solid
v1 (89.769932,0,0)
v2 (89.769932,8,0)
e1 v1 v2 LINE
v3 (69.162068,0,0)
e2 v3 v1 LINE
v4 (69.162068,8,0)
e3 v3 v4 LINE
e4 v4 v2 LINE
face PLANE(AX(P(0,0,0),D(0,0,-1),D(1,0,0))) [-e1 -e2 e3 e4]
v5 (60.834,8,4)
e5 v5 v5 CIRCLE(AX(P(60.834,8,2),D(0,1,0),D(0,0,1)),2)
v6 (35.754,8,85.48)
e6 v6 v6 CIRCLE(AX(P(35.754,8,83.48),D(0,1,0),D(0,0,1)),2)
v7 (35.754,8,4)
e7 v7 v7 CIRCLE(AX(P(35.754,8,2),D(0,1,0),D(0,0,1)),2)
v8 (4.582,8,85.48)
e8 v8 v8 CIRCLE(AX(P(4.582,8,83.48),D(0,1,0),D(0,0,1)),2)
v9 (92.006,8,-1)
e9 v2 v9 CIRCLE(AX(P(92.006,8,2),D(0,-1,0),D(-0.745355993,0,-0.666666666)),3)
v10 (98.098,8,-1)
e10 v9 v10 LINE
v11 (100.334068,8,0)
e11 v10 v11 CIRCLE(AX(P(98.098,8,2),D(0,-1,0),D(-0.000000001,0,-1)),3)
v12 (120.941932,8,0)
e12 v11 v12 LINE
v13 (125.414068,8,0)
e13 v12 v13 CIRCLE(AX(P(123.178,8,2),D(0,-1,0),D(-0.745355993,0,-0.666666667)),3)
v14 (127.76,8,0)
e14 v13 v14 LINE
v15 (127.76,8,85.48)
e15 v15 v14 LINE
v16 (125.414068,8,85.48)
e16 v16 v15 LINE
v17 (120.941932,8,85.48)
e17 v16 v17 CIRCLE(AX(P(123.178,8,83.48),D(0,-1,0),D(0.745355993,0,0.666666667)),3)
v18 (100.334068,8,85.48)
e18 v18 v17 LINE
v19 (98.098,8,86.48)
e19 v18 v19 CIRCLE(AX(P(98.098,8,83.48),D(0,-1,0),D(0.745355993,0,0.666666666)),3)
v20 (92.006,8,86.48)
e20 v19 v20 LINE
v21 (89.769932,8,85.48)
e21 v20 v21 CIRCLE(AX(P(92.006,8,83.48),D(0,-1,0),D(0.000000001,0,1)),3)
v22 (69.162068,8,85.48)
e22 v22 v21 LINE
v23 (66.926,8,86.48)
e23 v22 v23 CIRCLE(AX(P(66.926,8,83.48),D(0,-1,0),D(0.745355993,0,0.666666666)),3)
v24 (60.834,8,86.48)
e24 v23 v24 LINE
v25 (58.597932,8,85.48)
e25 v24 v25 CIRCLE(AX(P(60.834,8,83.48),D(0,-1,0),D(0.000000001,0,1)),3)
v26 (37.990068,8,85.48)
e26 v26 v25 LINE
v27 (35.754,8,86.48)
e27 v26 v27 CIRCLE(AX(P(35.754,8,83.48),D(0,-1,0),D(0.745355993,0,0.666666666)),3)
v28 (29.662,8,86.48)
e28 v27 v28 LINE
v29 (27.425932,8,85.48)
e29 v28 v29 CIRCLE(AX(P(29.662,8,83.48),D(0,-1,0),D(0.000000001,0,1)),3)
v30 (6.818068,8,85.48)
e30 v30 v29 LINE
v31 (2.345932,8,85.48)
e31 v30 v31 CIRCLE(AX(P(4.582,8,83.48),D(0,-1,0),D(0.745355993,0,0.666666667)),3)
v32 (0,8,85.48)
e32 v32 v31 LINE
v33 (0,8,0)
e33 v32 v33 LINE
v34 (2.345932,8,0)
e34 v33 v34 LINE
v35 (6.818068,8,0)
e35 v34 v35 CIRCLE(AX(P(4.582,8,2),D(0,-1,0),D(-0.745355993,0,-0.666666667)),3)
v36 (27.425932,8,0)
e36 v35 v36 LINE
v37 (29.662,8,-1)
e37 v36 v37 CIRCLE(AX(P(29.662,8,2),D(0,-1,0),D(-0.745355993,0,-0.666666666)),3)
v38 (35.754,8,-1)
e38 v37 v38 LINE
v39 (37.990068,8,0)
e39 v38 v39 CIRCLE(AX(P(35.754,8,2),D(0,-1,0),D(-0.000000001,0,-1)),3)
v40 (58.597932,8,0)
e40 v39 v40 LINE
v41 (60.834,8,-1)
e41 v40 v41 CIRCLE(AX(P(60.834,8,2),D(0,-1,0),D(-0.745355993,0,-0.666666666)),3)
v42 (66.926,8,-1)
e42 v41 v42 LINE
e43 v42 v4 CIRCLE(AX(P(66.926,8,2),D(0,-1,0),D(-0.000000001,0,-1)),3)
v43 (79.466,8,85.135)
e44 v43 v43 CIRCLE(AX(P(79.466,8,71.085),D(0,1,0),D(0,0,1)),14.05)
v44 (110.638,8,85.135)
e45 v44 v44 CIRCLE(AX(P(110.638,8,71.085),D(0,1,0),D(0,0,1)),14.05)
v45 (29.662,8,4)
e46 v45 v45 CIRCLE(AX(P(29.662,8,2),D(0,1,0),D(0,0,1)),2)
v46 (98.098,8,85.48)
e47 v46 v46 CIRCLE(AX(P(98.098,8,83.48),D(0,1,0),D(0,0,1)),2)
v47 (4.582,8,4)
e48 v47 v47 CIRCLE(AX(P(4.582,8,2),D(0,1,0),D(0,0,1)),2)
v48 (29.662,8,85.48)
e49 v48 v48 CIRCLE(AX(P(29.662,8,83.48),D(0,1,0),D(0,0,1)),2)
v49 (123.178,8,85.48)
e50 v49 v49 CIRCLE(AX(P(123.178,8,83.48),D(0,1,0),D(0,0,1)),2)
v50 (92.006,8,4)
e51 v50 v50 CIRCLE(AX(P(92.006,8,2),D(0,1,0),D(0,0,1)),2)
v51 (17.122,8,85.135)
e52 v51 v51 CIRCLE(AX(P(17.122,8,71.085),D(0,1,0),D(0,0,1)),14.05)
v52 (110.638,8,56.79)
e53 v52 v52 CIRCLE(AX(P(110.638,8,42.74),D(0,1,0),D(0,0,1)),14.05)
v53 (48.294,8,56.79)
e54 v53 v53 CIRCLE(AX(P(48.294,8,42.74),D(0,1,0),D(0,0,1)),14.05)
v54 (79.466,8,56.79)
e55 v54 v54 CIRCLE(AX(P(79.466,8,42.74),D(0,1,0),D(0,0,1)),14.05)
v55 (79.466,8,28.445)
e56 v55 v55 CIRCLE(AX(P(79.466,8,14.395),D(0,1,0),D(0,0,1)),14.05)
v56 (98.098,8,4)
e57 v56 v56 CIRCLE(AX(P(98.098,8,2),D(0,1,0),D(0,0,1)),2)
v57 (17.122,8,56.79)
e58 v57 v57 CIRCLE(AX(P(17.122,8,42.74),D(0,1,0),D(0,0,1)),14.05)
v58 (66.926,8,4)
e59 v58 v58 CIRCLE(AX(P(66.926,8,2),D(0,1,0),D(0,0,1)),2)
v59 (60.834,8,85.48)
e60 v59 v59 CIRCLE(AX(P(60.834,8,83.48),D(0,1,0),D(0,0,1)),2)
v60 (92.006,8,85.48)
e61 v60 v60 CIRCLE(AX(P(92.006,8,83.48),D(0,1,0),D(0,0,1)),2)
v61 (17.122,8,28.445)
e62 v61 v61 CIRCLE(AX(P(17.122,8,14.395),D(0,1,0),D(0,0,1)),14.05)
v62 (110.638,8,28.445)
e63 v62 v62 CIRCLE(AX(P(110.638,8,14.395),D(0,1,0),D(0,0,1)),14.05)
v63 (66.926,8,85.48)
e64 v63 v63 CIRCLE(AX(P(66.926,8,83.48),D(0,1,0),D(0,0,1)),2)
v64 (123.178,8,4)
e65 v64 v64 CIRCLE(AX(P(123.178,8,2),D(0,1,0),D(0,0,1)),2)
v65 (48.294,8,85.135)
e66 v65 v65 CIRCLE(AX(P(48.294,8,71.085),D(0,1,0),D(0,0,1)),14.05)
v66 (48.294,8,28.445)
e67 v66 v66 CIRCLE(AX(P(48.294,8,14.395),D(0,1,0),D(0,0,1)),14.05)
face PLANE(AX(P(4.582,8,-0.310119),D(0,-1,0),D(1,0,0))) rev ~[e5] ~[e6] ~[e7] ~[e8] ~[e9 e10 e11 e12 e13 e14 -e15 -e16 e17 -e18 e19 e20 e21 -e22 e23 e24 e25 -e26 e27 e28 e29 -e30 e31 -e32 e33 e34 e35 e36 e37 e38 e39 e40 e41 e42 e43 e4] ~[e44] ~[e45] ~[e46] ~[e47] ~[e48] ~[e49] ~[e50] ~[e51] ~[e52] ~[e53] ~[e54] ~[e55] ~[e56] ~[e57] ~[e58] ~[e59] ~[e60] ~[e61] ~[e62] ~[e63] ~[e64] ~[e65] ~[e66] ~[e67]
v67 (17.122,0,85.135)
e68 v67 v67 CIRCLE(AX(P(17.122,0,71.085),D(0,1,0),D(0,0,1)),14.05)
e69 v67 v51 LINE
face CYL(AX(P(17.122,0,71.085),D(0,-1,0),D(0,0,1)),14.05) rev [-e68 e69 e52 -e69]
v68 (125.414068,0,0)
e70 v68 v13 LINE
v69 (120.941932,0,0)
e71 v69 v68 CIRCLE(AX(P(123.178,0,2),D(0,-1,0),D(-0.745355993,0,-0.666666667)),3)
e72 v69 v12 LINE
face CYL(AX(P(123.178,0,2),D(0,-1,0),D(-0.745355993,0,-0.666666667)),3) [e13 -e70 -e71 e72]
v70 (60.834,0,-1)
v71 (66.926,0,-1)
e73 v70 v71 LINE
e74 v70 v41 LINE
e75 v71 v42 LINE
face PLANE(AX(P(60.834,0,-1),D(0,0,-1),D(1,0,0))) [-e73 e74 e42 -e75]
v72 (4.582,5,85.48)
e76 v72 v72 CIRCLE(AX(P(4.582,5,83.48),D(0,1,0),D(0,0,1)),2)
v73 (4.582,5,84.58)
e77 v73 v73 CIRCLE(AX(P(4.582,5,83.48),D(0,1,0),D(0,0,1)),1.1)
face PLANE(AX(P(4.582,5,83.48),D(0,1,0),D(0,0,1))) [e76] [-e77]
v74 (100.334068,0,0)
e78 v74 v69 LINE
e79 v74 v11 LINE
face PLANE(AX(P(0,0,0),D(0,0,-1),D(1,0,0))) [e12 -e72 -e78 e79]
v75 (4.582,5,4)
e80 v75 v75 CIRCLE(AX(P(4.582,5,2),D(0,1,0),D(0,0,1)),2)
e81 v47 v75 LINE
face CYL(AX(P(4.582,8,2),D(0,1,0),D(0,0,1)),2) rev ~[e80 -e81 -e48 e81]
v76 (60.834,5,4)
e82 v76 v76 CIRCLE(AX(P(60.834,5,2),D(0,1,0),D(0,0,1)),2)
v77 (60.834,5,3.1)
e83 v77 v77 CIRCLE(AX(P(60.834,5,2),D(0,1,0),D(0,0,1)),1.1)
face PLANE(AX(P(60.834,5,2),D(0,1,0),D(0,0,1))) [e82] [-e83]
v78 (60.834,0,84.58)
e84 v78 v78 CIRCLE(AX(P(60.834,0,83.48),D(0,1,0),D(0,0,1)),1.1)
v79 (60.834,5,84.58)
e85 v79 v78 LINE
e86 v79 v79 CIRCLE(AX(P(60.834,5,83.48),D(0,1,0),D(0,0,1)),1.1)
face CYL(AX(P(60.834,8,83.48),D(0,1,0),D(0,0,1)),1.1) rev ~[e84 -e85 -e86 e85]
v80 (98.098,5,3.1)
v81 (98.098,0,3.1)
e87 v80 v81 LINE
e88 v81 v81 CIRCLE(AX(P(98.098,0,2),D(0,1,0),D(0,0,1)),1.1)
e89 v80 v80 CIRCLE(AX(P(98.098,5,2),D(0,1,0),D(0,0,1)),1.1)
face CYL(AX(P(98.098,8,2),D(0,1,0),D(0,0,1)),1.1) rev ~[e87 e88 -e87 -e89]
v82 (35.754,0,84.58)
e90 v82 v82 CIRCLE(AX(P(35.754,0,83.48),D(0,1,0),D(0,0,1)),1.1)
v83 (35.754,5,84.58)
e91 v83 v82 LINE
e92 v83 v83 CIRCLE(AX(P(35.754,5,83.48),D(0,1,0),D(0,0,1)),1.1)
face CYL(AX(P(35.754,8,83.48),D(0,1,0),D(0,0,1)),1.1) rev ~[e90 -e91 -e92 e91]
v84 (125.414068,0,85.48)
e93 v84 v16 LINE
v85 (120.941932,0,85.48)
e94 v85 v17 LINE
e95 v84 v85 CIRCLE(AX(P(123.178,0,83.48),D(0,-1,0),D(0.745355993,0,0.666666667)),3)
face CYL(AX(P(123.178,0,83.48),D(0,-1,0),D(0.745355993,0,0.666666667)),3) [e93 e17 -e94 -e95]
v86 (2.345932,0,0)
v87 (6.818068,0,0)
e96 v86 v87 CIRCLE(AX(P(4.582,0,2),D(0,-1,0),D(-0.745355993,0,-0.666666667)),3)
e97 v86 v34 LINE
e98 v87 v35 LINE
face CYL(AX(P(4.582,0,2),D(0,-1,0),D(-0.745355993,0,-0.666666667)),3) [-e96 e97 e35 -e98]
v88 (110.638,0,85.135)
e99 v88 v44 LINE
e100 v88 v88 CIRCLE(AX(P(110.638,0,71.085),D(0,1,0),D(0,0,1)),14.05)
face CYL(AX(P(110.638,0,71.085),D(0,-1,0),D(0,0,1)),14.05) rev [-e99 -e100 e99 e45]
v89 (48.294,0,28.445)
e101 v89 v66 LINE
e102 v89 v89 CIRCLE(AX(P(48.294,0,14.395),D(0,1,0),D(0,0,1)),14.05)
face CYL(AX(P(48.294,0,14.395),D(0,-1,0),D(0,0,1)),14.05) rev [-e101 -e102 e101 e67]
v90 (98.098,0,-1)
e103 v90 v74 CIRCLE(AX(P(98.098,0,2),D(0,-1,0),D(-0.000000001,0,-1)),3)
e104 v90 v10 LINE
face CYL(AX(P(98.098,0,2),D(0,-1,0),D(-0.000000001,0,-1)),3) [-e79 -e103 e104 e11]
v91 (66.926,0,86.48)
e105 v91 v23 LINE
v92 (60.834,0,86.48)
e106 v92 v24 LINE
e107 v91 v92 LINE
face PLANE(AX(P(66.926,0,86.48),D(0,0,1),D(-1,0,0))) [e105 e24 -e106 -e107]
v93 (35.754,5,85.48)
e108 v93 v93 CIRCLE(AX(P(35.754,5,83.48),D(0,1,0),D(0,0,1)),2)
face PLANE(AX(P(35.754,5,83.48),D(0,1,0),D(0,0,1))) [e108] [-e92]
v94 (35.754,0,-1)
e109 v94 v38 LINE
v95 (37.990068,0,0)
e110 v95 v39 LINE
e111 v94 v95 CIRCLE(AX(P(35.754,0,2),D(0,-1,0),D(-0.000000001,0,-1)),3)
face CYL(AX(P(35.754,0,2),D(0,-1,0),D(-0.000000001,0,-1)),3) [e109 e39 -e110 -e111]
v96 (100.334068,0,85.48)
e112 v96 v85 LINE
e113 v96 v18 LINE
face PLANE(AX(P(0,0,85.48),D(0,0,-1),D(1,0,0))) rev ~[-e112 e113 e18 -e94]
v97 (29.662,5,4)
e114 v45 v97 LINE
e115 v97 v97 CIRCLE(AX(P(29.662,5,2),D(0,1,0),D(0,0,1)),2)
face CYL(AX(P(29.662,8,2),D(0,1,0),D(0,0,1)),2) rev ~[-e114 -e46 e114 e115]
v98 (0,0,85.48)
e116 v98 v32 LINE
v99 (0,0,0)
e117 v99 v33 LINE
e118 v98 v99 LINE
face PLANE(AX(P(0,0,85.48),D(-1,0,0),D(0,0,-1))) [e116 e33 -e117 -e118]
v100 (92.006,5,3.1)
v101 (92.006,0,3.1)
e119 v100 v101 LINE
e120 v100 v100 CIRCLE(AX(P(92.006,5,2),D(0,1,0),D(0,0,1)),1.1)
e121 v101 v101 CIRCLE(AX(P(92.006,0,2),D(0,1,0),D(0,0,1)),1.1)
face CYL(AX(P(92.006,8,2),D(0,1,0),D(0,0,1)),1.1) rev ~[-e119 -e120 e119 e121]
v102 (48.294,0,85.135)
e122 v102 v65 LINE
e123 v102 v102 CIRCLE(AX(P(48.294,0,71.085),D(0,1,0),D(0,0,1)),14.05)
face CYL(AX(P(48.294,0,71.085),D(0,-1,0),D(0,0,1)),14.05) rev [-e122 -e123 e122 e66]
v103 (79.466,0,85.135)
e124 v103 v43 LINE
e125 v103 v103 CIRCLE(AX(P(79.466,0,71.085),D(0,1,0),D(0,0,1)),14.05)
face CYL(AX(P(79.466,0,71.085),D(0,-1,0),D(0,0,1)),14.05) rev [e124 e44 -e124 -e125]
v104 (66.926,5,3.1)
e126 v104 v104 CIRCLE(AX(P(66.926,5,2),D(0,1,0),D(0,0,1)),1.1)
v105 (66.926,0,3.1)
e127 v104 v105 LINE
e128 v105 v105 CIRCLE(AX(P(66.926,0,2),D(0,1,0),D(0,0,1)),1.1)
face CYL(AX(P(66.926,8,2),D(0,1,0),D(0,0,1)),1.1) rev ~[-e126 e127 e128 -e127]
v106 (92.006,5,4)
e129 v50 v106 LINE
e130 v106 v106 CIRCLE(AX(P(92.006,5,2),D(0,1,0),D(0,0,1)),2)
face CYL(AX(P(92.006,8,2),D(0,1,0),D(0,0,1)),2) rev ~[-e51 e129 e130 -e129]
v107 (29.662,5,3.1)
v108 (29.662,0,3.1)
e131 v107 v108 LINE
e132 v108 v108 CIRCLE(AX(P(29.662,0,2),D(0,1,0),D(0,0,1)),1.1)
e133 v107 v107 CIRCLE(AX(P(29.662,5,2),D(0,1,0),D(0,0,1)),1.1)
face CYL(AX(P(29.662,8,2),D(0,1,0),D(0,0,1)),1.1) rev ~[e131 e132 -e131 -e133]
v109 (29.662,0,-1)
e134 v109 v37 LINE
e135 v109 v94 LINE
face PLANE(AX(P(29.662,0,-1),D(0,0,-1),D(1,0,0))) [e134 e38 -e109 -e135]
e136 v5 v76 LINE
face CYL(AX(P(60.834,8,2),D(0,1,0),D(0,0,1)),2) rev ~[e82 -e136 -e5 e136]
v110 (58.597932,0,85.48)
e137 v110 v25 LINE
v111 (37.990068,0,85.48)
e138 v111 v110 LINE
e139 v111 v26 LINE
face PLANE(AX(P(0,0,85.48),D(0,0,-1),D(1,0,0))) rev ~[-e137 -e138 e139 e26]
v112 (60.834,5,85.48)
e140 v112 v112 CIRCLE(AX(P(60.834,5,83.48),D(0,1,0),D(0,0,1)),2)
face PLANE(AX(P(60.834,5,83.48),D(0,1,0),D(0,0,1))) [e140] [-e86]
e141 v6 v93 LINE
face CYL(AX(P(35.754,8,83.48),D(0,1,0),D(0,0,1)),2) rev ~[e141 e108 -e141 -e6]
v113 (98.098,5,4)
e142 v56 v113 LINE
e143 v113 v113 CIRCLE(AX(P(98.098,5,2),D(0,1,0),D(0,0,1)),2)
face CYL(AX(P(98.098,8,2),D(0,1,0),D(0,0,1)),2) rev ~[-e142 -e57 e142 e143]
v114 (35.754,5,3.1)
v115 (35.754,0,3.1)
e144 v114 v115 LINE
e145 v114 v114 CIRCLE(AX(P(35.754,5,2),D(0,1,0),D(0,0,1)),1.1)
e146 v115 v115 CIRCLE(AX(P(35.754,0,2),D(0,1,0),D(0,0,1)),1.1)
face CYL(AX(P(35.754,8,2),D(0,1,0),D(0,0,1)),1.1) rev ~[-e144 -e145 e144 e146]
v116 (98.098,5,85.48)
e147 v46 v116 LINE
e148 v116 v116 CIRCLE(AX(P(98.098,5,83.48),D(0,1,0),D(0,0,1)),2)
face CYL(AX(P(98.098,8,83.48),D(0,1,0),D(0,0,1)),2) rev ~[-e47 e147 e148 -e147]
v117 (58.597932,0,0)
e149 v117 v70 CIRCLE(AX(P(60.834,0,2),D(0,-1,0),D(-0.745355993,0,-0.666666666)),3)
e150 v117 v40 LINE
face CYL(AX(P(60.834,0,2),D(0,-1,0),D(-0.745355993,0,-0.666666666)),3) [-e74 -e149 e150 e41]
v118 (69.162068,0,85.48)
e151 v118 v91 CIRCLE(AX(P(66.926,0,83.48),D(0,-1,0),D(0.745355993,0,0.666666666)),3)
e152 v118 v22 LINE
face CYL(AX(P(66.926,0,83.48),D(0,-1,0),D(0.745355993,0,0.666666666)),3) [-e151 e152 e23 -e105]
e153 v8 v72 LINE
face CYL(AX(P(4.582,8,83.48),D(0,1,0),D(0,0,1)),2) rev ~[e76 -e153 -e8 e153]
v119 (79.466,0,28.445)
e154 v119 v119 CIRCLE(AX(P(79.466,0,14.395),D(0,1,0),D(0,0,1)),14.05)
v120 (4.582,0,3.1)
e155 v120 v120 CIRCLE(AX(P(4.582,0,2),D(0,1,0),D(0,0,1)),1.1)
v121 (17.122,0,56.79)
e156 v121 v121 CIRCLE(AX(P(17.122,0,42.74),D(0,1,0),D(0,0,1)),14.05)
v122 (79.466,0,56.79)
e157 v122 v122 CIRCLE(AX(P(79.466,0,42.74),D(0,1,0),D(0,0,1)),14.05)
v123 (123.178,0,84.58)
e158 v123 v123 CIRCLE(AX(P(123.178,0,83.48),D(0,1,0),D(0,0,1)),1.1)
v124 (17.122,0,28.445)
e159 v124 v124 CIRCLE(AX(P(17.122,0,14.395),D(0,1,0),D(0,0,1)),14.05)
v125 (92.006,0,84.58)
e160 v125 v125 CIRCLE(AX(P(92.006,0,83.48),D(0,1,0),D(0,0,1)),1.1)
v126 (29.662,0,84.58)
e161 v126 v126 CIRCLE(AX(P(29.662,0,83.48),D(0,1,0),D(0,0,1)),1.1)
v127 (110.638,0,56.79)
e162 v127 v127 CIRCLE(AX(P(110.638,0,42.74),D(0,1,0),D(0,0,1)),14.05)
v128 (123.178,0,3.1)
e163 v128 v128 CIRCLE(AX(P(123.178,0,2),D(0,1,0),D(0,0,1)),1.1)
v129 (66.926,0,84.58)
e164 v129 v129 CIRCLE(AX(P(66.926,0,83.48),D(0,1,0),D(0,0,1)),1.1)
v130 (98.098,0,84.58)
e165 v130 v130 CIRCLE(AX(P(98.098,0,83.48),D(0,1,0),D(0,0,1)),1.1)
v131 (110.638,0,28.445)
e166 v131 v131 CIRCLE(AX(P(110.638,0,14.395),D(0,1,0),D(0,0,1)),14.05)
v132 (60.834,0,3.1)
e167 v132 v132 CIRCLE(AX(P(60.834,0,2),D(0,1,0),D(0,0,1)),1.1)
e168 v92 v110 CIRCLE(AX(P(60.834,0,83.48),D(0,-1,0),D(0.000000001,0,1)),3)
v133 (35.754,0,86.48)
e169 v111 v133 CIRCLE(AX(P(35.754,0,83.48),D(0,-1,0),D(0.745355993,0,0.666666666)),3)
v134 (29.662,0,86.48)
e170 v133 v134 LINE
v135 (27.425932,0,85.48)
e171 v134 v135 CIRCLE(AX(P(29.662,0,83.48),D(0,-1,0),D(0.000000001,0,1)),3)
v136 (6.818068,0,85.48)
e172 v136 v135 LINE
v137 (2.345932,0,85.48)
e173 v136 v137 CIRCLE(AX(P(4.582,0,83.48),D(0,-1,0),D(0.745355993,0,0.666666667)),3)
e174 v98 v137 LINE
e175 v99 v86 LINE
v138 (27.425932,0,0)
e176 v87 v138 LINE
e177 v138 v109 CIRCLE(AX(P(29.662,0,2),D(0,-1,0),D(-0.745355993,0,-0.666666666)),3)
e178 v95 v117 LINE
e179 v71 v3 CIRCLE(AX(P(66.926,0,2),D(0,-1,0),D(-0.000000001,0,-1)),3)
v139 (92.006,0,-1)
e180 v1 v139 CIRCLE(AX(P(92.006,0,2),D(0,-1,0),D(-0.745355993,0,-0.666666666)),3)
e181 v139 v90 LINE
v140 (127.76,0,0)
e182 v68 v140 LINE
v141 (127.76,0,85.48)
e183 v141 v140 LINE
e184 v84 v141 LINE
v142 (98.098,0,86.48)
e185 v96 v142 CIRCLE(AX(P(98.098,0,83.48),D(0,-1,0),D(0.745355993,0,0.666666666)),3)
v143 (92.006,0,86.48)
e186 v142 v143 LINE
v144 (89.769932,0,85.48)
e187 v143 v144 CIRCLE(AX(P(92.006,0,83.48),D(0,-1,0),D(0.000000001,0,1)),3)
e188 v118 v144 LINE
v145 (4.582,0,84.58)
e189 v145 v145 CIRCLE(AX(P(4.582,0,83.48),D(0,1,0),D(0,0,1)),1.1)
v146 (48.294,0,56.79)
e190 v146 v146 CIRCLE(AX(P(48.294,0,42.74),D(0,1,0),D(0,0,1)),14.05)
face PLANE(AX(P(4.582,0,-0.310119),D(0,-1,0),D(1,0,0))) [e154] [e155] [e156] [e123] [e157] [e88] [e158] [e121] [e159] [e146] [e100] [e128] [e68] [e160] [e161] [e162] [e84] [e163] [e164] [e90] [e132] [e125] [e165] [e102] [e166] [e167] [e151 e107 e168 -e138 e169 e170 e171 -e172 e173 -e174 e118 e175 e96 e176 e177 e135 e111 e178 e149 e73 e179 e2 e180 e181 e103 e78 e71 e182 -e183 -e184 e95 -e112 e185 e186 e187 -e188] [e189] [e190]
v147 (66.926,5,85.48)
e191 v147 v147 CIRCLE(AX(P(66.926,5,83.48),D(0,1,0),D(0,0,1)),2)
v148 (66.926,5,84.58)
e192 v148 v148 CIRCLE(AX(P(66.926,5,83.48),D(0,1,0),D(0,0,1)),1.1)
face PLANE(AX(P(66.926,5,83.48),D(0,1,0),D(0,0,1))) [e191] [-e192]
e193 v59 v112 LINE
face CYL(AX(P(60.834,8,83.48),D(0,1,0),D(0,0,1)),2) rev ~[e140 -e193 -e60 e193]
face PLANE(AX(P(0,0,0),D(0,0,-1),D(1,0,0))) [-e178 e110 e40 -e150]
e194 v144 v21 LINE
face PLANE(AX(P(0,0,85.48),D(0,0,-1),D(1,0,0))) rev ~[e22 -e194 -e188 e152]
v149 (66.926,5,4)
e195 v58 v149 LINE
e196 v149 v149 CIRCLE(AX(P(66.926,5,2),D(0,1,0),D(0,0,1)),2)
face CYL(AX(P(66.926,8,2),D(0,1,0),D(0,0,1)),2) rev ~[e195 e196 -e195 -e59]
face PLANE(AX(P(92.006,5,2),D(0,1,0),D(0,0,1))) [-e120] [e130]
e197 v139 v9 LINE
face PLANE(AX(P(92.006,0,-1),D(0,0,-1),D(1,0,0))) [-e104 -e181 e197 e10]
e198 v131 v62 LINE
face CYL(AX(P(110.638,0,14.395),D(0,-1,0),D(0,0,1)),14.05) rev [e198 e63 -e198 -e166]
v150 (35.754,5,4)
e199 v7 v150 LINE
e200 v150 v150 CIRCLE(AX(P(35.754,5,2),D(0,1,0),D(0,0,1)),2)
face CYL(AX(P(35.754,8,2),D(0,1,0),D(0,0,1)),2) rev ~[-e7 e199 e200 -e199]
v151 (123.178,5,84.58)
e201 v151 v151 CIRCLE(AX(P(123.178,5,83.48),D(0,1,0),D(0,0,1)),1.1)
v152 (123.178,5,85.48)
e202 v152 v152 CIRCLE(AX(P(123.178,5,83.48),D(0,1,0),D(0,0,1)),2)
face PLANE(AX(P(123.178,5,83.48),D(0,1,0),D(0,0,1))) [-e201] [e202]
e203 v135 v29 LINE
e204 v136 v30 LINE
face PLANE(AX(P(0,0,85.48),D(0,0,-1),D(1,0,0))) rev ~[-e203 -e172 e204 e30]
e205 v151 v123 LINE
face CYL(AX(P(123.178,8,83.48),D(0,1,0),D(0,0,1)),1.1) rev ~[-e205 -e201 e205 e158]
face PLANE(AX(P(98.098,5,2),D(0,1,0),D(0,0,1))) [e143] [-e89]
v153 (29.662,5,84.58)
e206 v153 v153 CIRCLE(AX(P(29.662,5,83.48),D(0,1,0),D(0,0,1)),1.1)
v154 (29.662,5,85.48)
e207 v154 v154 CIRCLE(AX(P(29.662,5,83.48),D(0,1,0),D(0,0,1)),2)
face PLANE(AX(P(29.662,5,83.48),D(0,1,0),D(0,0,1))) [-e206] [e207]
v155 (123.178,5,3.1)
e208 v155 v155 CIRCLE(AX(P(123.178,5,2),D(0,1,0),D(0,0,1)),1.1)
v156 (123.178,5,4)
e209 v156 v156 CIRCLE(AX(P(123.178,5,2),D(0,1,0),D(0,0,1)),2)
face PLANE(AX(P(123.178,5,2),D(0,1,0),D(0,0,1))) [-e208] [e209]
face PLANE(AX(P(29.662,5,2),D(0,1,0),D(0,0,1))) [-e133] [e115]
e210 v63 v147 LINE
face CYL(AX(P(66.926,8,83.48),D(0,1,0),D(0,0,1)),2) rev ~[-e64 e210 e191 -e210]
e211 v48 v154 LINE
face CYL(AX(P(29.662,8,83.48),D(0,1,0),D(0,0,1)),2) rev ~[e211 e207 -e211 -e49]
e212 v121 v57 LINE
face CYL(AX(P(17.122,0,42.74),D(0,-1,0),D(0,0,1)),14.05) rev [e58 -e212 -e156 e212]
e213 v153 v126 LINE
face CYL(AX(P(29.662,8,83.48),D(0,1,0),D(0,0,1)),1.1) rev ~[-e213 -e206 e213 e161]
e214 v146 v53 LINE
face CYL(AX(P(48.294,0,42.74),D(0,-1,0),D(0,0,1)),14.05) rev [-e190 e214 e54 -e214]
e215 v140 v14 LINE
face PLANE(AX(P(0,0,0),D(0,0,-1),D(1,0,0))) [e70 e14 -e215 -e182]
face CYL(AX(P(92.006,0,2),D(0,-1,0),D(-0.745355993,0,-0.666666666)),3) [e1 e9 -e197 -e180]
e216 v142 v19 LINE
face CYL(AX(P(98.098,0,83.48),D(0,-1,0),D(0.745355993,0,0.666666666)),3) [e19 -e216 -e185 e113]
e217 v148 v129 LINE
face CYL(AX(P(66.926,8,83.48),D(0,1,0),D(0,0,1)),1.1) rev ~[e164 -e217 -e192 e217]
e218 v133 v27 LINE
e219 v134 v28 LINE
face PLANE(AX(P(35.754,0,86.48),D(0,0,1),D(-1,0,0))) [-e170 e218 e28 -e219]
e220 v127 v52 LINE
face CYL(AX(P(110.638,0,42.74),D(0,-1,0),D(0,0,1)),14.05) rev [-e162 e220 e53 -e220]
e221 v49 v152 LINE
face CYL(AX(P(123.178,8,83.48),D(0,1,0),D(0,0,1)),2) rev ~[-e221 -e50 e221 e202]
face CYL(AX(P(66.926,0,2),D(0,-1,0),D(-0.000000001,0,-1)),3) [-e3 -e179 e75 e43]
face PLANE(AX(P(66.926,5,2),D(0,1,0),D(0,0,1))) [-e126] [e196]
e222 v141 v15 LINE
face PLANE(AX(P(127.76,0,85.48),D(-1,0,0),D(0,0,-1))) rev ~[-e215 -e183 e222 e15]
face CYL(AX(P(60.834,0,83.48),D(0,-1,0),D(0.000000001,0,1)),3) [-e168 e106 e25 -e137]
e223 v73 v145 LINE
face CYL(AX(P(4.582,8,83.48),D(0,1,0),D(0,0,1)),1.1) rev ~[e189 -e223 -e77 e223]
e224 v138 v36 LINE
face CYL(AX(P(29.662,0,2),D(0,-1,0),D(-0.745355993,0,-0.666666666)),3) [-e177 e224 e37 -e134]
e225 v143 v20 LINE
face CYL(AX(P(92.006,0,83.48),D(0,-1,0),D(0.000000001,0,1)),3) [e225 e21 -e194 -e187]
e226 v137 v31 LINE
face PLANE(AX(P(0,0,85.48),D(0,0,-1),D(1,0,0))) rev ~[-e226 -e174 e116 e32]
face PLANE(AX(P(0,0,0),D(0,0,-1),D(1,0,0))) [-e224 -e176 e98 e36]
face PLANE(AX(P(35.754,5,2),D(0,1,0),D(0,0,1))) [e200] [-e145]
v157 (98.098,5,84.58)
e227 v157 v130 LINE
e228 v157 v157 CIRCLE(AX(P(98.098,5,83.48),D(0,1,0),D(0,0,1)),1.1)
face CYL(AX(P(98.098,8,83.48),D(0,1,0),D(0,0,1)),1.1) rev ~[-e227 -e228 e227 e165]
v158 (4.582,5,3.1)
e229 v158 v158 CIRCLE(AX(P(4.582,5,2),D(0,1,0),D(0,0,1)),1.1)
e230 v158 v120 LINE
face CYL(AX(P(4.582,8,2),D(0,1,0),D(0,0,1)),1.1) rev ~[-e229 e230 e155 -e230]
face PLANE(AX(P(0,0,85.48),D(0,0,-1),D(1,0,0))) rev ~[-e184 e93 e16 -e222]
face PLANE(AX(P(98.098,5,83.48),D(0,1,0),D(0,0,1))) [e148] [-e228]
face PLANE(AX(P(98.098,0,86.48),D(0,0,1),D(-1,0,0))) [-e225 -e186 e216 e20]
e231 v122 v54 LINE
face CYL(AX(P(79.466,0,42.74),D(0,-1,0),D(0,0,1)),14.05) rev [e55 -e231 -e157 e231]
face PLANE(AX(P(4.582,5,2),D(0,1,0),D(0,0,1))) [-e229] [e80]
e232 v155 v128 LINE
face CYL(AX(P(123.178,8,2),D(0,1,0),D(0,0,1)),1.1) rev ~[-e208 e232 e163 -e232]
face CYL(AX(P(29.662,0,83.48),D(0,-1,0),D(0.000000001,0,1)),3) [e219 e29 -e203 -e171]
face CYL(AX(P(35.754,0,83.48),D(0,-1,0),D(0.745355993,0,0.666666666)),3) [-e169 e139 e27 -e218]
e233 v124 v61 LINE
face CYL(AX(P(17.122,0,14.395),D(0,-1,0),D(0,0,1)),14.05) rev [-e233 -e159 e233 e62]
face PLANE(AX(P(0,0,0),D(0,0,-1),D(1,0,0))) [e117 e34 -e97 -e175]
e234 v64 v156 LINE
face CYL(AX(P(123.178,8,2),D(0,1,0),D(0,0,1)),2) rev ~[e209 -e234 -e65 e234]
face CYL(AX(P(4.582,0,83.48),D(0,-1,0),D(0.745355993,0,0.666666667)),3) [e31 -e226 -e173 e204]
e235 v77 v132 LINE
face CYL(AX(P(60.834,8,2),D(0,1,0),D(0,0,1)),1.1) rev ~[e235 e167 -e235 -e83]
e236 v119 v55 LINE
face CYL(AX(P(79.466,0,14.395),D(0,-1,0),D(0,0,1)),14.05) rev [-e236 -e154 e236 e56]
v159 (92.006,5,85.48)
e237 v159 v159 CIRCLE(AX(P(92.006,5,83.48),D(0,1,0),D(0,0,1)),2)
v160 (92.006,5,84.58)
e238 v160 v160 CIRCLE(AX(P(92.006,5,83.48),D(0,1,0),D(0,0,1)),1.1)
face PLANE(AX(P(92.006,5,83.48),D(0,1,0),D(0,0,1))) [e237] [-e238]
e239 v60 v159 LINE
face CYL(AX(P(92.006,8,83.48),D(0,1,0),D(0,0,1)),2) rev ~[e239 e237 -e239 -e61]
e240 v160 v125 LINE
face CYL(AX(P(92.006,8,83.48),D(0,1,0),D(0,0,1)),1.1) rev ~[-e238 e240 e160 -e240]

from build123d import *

# Parameters (mm, degrees)
SKETCH1_W           = 127.76
SKETCH1_H           = 85.48
SKETCH1_R           = 14.05
BOSS_EXTRUDE3_DEPTH = 8
BOSS_EXTRUDE4_DEPTH = 8
SKETCH4_R           = 1.1
CUT_EXTRUDE2_DEPTH  = 10
CUT_EXTRUDE3_START  = 8
SKETCH7_R           = 2
CUT_EXTRUDE3_DEPTH  = 3


with BuildPart() as part:
    # Sketch1 → Boss-Extrude3 (new body)
    with BuildSketch(Plane(origin=(0, 0, 0), x_dir=(1, 0, 0), z_dir=(0, 1, 0))):
        with Locations((63.88, -42.74)):
            Rectangle(SKETCH1_W, SKETCH1_H)
        with Locations(Location((17.122, -71.085, 0), (0, 0, 270))):
            Circle(SKETCH1_R, mode=Mode.SUBTRACT)
        with Locations(Location((17.122, -42.74, 0), (0, 0, 270))):
            Circle(SKETCH1_R, mode=Mode.SUBTRACT)
        with Locations(Location((110.638, -71.085, 0), (0, 0, 270))):
            Circle(SKETCH1_R, mode=Mode.SUBTRACT)
        with Locations(Location((79.466, -71.085, 0), (0, 0, 270))):
            Circle(SKETCH1_R, mode=Mode.SUBTRACT)
        with Locations(Location((48.294, -71.085, 0), (0, 0, 270))):
            Circle(SKETCH1_R, mode=Mode.SUBTRACT)
        with Locations(Location((110.638, -42.74, 0), (0, 0, 270))):
            Circle(SKETCH1_R, mode=Mode.SUBTRACT)
        with Locations(Location((79.466, -42.74, 0), (0, 0, 270))):
            Circle(SKETCH1_R, mode=Mode.SUBTRACT)
        with Locations(Location((48.294, -42.74, 0), (0, 0, 270))):
            Circle(SKETCH1_R, mode=Mode.SUBTRACT)
        with Locations(Location((110.638, -14.395, 0), (0, 0, 270))):
            Circle(SKETCH1_R, mode=Mode.SUBTRACT)
        with Locations(Location((79.466, -14.395, 0), (0, 0, 270))):
            Circle(SKETCH1_R, mode=Mode.SUBTRACT)
        with Locations(Location((48.294, -14.395, 0), (0, 0, 270))):
            Circle(SKETCH1_R, mode=Mode.SUBTRACT)
        with Locations(Location((17.122, -14.395, 0), (0, 0, 270))):
            Circle(SKETCH1_R, mode=Mode.SUBTRACT)
    extrude(amount=BOSS_EXTRUDE3_DEPTH)

    # Sketch2 → Boss-Extrude4 (add)
    with BuildSketch(Plane.XZ):
        with BuildLine():
            ThreePointArc((2.345932023, 0), (4.582, -1), (6.818067977, 0))
            Line((6.818067977, 0), (2.345932023, 0))
        make_face()
        with BuildLine():
            Line((2.345932023, 0), (6.818067977, 0))
            ThreePointArc((6.818067977, 0), (7.384517077, 0.929533731), (7.582, 2))
            ThreePointArc((7.582, 2), (3.511533731, 4.802517077), (2.345932023, 0))
        make_face()
        with BuildLine():
            ThreePointArc((32.662, 2), (31.783320344, 4.121320344), (29.662, 5))
            Line((29.662, 5), (29.662, 0))
            Line((29.662, 0), (31.898067977, 0))
            ThreePointArc((31.898067977, 0), (32.464517077, 0.929533731), (32.662, 2))
        make_face()
        with BuildLine():
            Line((29.662, 0), (29.662, 5))
            ThreePointArc((29.662, 5), (26.923387212, 3.224744871), (27.425932023, 0))
            Line((27.425932023, 0), (29.662, 0))
        make_face()
        with BuildLine():
            Line((31.898067977, 0), (29.662, 0))
            Line((29.662, 0), (29.662, -1))
            ThreePointArc((29.662, -1), (30.886744871, -0.738612788), (31.898067977, 0))
        make_face()
        with BuildLine():
            Line((29.662, -1), (29.662, 0))
            Line((29.662, 0), (27.425932023, 0))
            ThreePointArc((27.425932023, 0), (28.437255129, -0.738612788), (29.662, -1))
        make_face()
        with BuildLine():
            ThreePointArc((35.754, -1), (34.529255129, -0.738612788), (33.517932023, 0))
            Line((33.517932023, 0), (31.898067977, 0))
            ThreePointArc((31.898067977, 0), (30.886744871, -0.738612788), (29.662, -1))
            Line((29.662, -1), (35.754, -1))
        make_face()
        with BuildLine():
            ThreePointArc((38.754, 2), (37.875320344, 4.121320344), (35.754, 5))
            Line((35.754, 5), (35.754, 0))
            Line((35.754, 0), (37.990067977, 0))
            ThreePointArc((37.990067977, 0), (38.556517077, 0.929533731), (38.754, 2))
        make_face()
        with BuildLine():
            Line((35.754, 0), (35.754, 5))
            ThreePointArc((35.754, 5), (33.015387212, 3.224744871), (33.517932023, 0))
            Line((33.517932023, 0), (35.754, 0))
        make_face()
        with BuildLine():
            Line((37.990067977, 0), (35.754, 0))
            Line((35.754, 0), (35.754, -1))
            ThreePointArc((35.754, -1), (36.978744871, -0.738612788), (37.990067977, 0))
        make_face()
        with BuildLine():
            Line((35.754, -1), (35.754, 0))
            Line((35.754, 0), (33.517932023, 0))
            ThreePointArc((33.517932023, 0), (34.529255129, -0.738612788), (35.754, -1))
        make_face()
        with BuildLine():
            ThreePointArc((60.834, 5), (58.095387212, 3.224744871), (58.597932023, 0))
            Line((58.597932023, 0), (60.834, 0))
            Line((60.834, 0), (60.834, 5))
        make_face()
        with BuildLine():
            Line((60.834, 0), (58.597932023, 0))
            ThreePointArc((58.597932023, 0), (59.609255129, -0.738612788), (60.834, -1))
            Line((60.834, -1), (60.834, 0))
        make_face()
        with BuildLine():
            ThreePointArc((63.834, 2), (62.955320344, 4.121320344), (60.834, 5))
            Line((60.834, 5), (60.834, 0))
            Line((60.834, 0), (63.070067977, 0))
            ThreePointArc((63.070067977, 0), (63.636517077, 0.929533731), (63.834, 2))
        make_face()
        with BuildLine():
            Line((60.834, 0), (60.834, -1))
            ThreePointArc((60.834, -1), (62.058744871, -0.738612788), (63.070067977, 0))
            Line((63.070067977, 0), (60.834, 0))
        make_face()
        with BuildLine():
            ThreePointArc((63.070067977, 0), (62.058744871, -0.738612788), (60.834, -1))
            Line((60.834, -1), (66.926, -1))
            ThreePointArc((66.926, -1), (65.701255129, -0.738612788), (64.689932023, 0))
            Line((64.689932023, 0), (63.070067977, 0))
        make_face()
        with BuildLine():
            ThreePointArc((69.926, 2), (69.047320344, 4.121320344), (66.926, 5))
            Line((66.926, 5), (66.926, 0))
            Line((66.926, 0), (69.162067977, 0))
            ThreePointArc((69.162067977, 0), (69.728517077, 0.929533731), (69.926, 2))
        make_face()
        with BuildLine():
            Line((66.926, 0), (66.926, 5))
            ThreePointArc((66.926, 5), (64.187387212, 3.224744871), (64.689932023, 0))
            Line((64.689932023, 0), (66.926, 0))
        make_face()
        with BuildLine():
            ThreePointArc((64.689932023, 0), (65.701255129, -0.738612788), (66.926, -1))
            Line((66.926, -1), (66.926, 0))
            Line((66.926, 0), (64.689932023, 0))
        make_face()
        with BuildLine():
            Line((66.926, 0), (66.926, -1))
            ThreePointArc((66.926, -1), (68.150744871, -0.738612788), (69.162067977, 0))
            Line((69.162067977, 0), (66.926, 0))
        make_face()
        with BuildLine():
            ThreePointArc((92.006, 5), (89.267387212, 3.224744871), (89.769932023, 0))
            Line((89.769932023, 0), (92.006, 0))
            Line((92.006, 0), (92.006, 5))
        make_face()
        with BuildLine():
            Line((92.006, 0), (89.769932023, 0))
            ThreePointArc((89.769932023, 0), (90.781255129, -0.738612788), (92.006, -1))
            Line((92.006, -1), (92.006, 0))
        make_face()
        with BuildLine():
            ThreePointArc((95.006, 2), (94.127320344, 4.121320344), (92.006, 5))
            Line((92.006, 5), (92.006, 0))
            Line((92.006, 0), (94.242067977, 0))
            ThreePointArc((94.242067977, 0), (94.808517077, 0.929533731), (95.006, 2))
        make_face()
        with BuildLine():
            Line((92.006, 0), (92.006, -1))
            ThreePointArc((92.006, -1), (93.230744871, -0.738612788), (94.242067977, 0))
            Line((94.242067977, 0), (92.006, 0))
        make_face()
        with BuildLine():
            ThreePointArc((94.242067977, 0), (93.230744871, -0.738612788), (92.006, -1))
            Line((92.006, -1), (98.098, -1))
            ThreePointArc((98.098, -1), (96.873255129, -0.738612788), (95.861932023, 0))
            Line((95.861932023, 0), (94.242067977, 0))
        make_face()
        with BuildLine():
            ThreePointArc((101.098, 2), (100.219320344, 4.121320344), (98.098, 5))
            Line((98.098, 5), (98.098, 0))
            Line((98.098, 0), (100.334067977, 0))
            ThreePointArc((100.334067977, 0), (100.900517077, 0.929533731), (101.098, 2))
        make_face()
        with BuildLine():
            Line((98.098, 0), (98.098, 5))
            ThreePointArc((98.098, 5), (95.359387212, 3.224744871), (95.861932023, 0))
            Line((95.861932023, 0), (98.098, 0))
        make_face()
        with BuildLine():
            ThreePointArc((95.861932023, 0), (96.873255129, -0.738612788), (98.098, -1))
            Line((98.098, -1), (98.098, 0))
            Line((98.098, 0), (95.861932023, 0))
        make_face()
        with BuildLine():
            Line((98.098, 0), (98.098, -1))
            ThreePointArc((98.098, -1), (99.322744871, -0.738612788), (100.334067977, 0))
            Line((100.334067977, 0), (98.098, 0))
        make_face()
        with BuildLine():
            ThreePointArc((126.178, 2), (122.107533731, 4.802517077), (120.941932023, 0))
            Line((120.941932023, 0), (125.414067977, 0))
            ThreePointArc((125.414067977, 0), (125.980517077, 0.929533731), (126.178, 2))
        make_face()
        with BuildLine():
            Line((125.414067977, 0), (120.941932023, 0))
            ThreePointArc((120.941932023, 0), (123.178, -1), (125.414067977, 0))
        make_face()
        with BuildLine():
            ThreePointArc((125.414067977, 85.48), (123.178, 86.48), (120.941932023, 85.48))
            Line((120.941932023, 85.48), (125.414067977, 85.48))
        make_face()
        with BuildLine():
            Line((125.414067977, 85.48), (120.941932023, 85.48))
            ThreePointArc((120.941932023, 85.48), (122.107533731, 80.677482923), (126.178, 83.48))
            ThreePointArc((126.178, 83.48), (125.980517077, 84.550466269), (125.414067977, 85.48))
        make_face()
        with BuildLine():
            ThreePointArc((100.334067977, 85.48), (99.322744871, 86.218612788), (98.098, 86.48))
            Line((98.098, 86.48), (98.098, 85.48))
            Line((98.098, 85.48), (100.334067977, 85.48))
        make_face()
        with BuildLine():
            Line((98.098, 85.48), (98.098, 86.48))
            ThreePointArc((98.098, 86.48), (96.873255129, 86.218612788), (95.861932023, 85.48))
            Line((95.861932023, 85.48), (98.098, 85.48))
        make_face()
        with BuildLine():
            Line((100.334067977, 85.48), (98.098, 85.48))
            Line((98.098, 85.48), (98.098, 80.48))
            ThreePointArc((98.098, 80.48), (100.219320344, 81.358679656), (101.098, 83.48))
            ThreePointArc((101.098, 83.48), (100.900517077, 84.550466269), (100.334067977, 85.48))
        make_face()
        with BuildLine():
            Line((98.098, 80.48), (98.098, 85.48))
            Line((98.098, 85.48), (95.861932023, 85.48))
            ThreePointArc((95.861932023, 85.48), (95.359387212, 82.255255129), (98.098, 80.48))
        make_face()
        with BuildLine():
            Line((98.098, 86.48), (92.006, 86.48))
            ThreePointArc((92.006, 86.48), (93.230744871, 86.218612788), (94.242067977, 85.48))
            Line((94.242067977, 85.48), (95.861932023, 85.48))
            ThreePointArc((95.861932023, 85.48), (96.873255129, 86.218612788), (98.098, 86.48))
        make_face()
        with BuildLine():
            ThreePointArc((94.242067977, 85.48), (93.230744871, 86.218612788), (92.006, 86.48))
            Line((92.006, 86.48), (92.006, 85.48))
            Line((92.006, 85.48), (94.242067977, 85.48))
        make_face()
        with BuildLine():
            Line((92.006, 85.48), (92.006, 86.48))
            ThreePointArc((92.006, 86.48), (90.781255129, 86.218612788), (89.769932023, 85.48))
            Line((89.769932023, 85.48), (92.006, 85.48))
        make_face()
        with BuildLine():
            Line((94.242067977, 85.48), (92.006, 85.48))
            Line((92.006, 85.48), (92.006, 80.48))
            ThreePointArc((92.006, 80.48), (94.127320344, 81.358679656), (95.006, 83.48))
            ThreePointArc((95.006, 83.48), (94.808517077, 84.550466269), (94.242067977, 85.48))
        make_face()
        with BuildLine():
            Line((92.006, 80.48), (92.006, 85.48))
            Line((92.006, 85.48), (89.769932023, 85.48))
            ThreePointArc((89.769932023, 85.48), (89.267387212, 82.255255129), (92.006, 80.48))
        make_face()
        with BuildLine():
            ThreePointArc((69.926, 83.48), (69.728517077, 84.550466269), (69.162067977, 85.48))
            Line((69.162067977, 85.48), (66.926, 85.48))
            Line((66.926, 85.48), (66.926, 80.48))
            ThreePointArc((66.926, 80.48), (69.047320344, 81.358679656), (69.926, 83.48))
        make_face()
        with BuildLine():
            Line((66.926, 85.48), (69.162067977, 85.48))
            ThreePointArc((69.162067977, 85.48), (68.150744871, 86.218612788), (66.926, 86.48))
            Line((66.926, 86.48), (66.926, 85.48))
        make_face()
        with BuildLine():
            Line((66.926, 85.48), (66.926, 86.48))
            ThreePointArc((66.926, 86.48), (65.701255129, 86.218612788), (64.689932023, 85.48))
            Line((64.689932023, 85.48), (66.926, 85.48))
        make_face()
        with BuildLine():
            Line((66.926, 80.48), (66.926, 85.48))
            Line((66.926, 85.48), (64.689932023, 85.48))
            ThreePointArc((64.689932023, 85.48), (64.187387212, 82.255255129), (66.926, 80.48))
        make_face()
        with BuildLine():
            ThreePointArc((64.689932023, 85.48), (65.701255129, 86.218612788), (66.926, 86.48))
            Line((66.926, 86.48), (60.834, 86.48))
            ThreePointArc((60.834, 86.48), (62.058744871, 86.218612788), (63.070067977, 85.48))
            Line((63.070067977, 85.48), (64.689932023, 85.48))
        make_face()
        with BuildLine():
            ThreePointArc((63.070067977, 85.48), (62.058744871, 86.218612788), (60.834, 86.48))
            Line((60.834, 86.48), (60.834, 85.48))
            Line((60.834, 85.48), (63.070067977, 85.48))
        make_face()
        with BuildLine():
            Line((60.834, 85.48), (60.834, 86.48))
            ThreePointArc((60.834, 86.48), (59.609255129, 86.218612788), (58.597932023, 85.48))
            Line((58.597932023, 85.48), (60.834, 85.48))
        make_face()
        with BuildLine():
            ThreePointArc((58.597932023, 85.48), (58.095387212, 82.255255129), (60.834, 80.48))
            Line((60.834, 80.48), (60.834, 85.48))
            Line((60.834, 85.48), (58.597932023, 85.48))
        make_face()
        with BuildLine():
            Line((60.834, 85.48), (60.834, 80.48))
            ThreePointArc((60.834, 80.48), (62.955320344, 81.358679656), (63.834, 83.48))
            ThreePointArc((63.834, 83.48), (63.636517077, 84.550466269), (63.070067977, 85.48))
            Line((63.070067977, 85.48), (60.834, 85.48))
        make_face()
        with BuildLine():
            ThreePointArc((7.582, 83.48), (7.384517077, 84.550466269), (6.818067977, 85.48))
            Line((6.818067977, 85.48), (2.345932023, 85.48))
            ThreePointArc((2.345932023, 85.48), (3.511533731, 80.677482923), (7.582, 83.48))
        make_face()
        with BuildLine():
            Line((2.345932023, 85.48), (6.818067977, 85.48))
            ThreePointArc((6.818067977, 85.48), (4.582, 86.48), (2.345932023, 85.48))
        make_face()
        with BuildLine():
            ThreePointArc((31.898067977, 85.48), (30.886744871, 86.218612788), (29.662, 86.48))
            Line((29.662, 86.48), (29.662, 85.48))
            Line((29.662, 85.48), (31.898067977, 85.48))
        make_face()
        with BuildLine():
            Line((29.662, 85.48), (29.662, 86.48))
            ThreePointArc((29.662, 86.48), (28.437255129, 86.218612788), (27.425932023, 85.48))
            Line((27.425932023, 85.48), (29.662, 85.48))
        make_face()
        with BuildLine():
            ThreePointArc((27.425932023, 85.48), (26.923387212, 82.255255129), (29.662, 80.48))
            Line((29.662, 80.48), (29.662, 85.48))
            Line((29.662, 85.48), (27.425932023, 85.48))
        make_face()
        with BuildLine():
            Line((29.662, 85.48), (29.662, 80.48))
            ThreePointArc((29.662, 80.48), (31.783320344, 81.358679656), (32.662, 83.48))
            ThreePointArc((32.662, 83.48), (32.464517077, 84.550466269), (31.898067977, 85.48))
            Line((31.898067977, 85.48), (29.662, 85.48))
        make_face()
        with BuildLine():
            ThreePointArc((33.517932023, 85.48), (34.529255129, 86.218612788), (35.754, 86.48))
            Line((35.754, 86.48), (29.662, 86.48))
            ThreePointArc((29.662, 86.48), (30.886744871, 86.218612788), (31.898067977, 85.48))
            Line((31.898067977, 85.48), (33.517932023, 85.48))
        make_face()
        with BuildLine():
            ThreePointArc((38.754, 83.48), (38.556517077, 84.550466269), (37.990067977, 85.48))
            Line((37.990067977, 85.48), (35.754, 85.48))
            Line((35.754, 85.48), (35.754, 80.48))
            ThreePointArc((35.754, 80.48), (37.875320344, 81.358679656), (38.754, 83.48))
        make_face()
        with BuildLine():
            Line((35.754, 85.48), (37.990067977, 85.48))
            ThreePointArc((37.990067977, 85.48), (36.978744871, 86.218612788), (35.754, 86.48))
            Line((35.754, 86.48), (35.754, 85.48))
        make_face()
        with BuildLine():
            Line((35.754, 85.48), (35.754, 86.48))
            ThreePointArc((35.754, 86.48), (34.529255129, 86.218612788), (33.517932023, 85.48))
            Line((33.517932023, 85.48), (35.754, 85.48))
        make_face()
        with BuildLine():
            Line((35.754, 80.48), (35.754, 85.48))
            Line((35.754, 85.48), (33.517932023, 85.48))
            ThreePointArc((33.517932023, 85.48), (33.015387212, 82.255255129), (35.754, 80.48))
        make_face()
    extrude(amount=-BOSS_EXTRUDE4_DEPTH)

    # Sketch4 → Cut-Extrude2 (cut)
    with BuildSketch(Plane(origin=(0, 8, 0), x_dir=(1, 0, 0), z_dir=(0, 1, 0))):
        with Locations(Location((4.582, -83.48, 0), (0, 0, 270))):
            Circle(SKETCH4_R)
        with Locations(Location((29.662, -83.48, 0), (0, 0, 270))):
            Circle(SKETCH4_R)
        with Locations(Location((29.662, -2, 0), (0, 0, 270))):
            Circle(SKETCH4_R)
        with Locations(Location((4.582, -2, 0), (0, 0, 270))):
            Circle(SKETCH4_R)
        with Locations(Location((35.754, -83.48, 0), (0, 0, 270))):
            Circle(SKETCH4_R)
        with Locations(Location((60.834, -83.48, 0), (0, 0, 270))):
            Circle(SKETCH4_R)
        with Locations(Location((60.834, -2, 0), (0, 0, 270))):
            Circle(SKETCH4_R)
        with Locations(Location((35.754, -2, 0), (0, 0, 270))):
            Circle(SKETCH4_R)
        with Locations(Location((66.926, -83.48, 0), (0, 0, 270))):
            Circle(SKETCH4_R)
        with Locations(Location((92.006, -83.48, 0), (0, 0, 270))):
            Circle(SKETCH4_R)
        with Locations(Location((92.006, -2, 0), (0, 0, 270))):
            Circle(SKETCH4_R)
        with Locations(Location((66.926, -2, 0), (0, 0, 270))):
            Circle(SKETCH4_R)
        with Locations(Location((98.098, -83.48, 0), (0, 0, 270))):
            Circle(SKETCH4_R)
        with Locations(Location((123.178, -83.48, 0), (0, 0, 270))):
            Circle(SKETCH4_R)
        with Locations(Location((123.178, -2, 0), (0, 0, 270))):
            Circle(SKETCH4_R)
        with Locations(Location((98.098, -2, 0), (0, 0, 270))):
            Circle(SKETCH4_R)
    extrude(amount=-CUT_EXTRUDE2_DEPTH, mode=Mode.SUBTRACT)

    # Sketch7 → Cut-Extrude3 (cut)
    with BuildSketch(Plane(origin=(0, 0, 0), x_dir=(1, 0, 0), z_dir=(0, 1, 0)).offset(CUT_EXTRUDE3_START)):
        with Locations(Location((4.582, -83.48, 0), (0, 0, 270))):
            Circle(SKETCH7_R)
        with Locations(Location((29.662, -83.48, 0), (0, 0, 270))):
            Circle(SKETCH7_R)
        with Locations(Location((29.662, -2, 0), (0, 0, 270))):
            Circle(SKETCH7_R)
        with Locations(Location((4.582, -2, 0), (0, 0, 270))):
            Circle(SKETCH7_R)
        with Locations(Location((35.754, -83.48, 0), (0, 0, 270))):
            Circle(SKETCH7_R)
        with Locations(Location((60.834, -83.48, 0), (0, 0, 270))):
            Circle(SKETCH7_R)
        with Locations(Location((60.834, -2, 0), (0, 0, 270))):
            Circle(SKETCH7_R)
        with Locations(Location((35.754, -2, 0), (0, 0, 270))):
            Circle(SKETCH7_R)
        with Locations(Location((66.926, -83.48, 0), (0, 0, 270))):
            Circle(SKETCH7_R)
        with Locations(Location((92.006, -83.48, 0), (0, 0, 270))):
            Circle(SKETCH7_R)
        with Locations(Location((92.006, -2, 0), (0, 0, 270))):
            Circle(SKETCH7_R)
        with Locations(Location((66.926, -2, 0), (0, 0, 270))):
            Circle(SKETCH7_R)
        with Locations(Location((98.098, -83.48, 0), (0, 0, 270))):
            Circle(SKETCH7_R)
        with Locations(Location((123.178, -83.48, 0), (0, 0, 270))):
            Circle(SKETCH7_R)
        with Locations(Location((123.178, -2, 0), (0, 0, 270))):
            Circle(SKETCH7_R)
        with Locations(Location((98.098, -2, 0), (0, 0, 270))):
            Circle(SKETCH7_R)
    extrude(amount=-CUT_EXTRUDE3_DEPTH, mode=Mode.SUBTRACT)


solid = part.part
